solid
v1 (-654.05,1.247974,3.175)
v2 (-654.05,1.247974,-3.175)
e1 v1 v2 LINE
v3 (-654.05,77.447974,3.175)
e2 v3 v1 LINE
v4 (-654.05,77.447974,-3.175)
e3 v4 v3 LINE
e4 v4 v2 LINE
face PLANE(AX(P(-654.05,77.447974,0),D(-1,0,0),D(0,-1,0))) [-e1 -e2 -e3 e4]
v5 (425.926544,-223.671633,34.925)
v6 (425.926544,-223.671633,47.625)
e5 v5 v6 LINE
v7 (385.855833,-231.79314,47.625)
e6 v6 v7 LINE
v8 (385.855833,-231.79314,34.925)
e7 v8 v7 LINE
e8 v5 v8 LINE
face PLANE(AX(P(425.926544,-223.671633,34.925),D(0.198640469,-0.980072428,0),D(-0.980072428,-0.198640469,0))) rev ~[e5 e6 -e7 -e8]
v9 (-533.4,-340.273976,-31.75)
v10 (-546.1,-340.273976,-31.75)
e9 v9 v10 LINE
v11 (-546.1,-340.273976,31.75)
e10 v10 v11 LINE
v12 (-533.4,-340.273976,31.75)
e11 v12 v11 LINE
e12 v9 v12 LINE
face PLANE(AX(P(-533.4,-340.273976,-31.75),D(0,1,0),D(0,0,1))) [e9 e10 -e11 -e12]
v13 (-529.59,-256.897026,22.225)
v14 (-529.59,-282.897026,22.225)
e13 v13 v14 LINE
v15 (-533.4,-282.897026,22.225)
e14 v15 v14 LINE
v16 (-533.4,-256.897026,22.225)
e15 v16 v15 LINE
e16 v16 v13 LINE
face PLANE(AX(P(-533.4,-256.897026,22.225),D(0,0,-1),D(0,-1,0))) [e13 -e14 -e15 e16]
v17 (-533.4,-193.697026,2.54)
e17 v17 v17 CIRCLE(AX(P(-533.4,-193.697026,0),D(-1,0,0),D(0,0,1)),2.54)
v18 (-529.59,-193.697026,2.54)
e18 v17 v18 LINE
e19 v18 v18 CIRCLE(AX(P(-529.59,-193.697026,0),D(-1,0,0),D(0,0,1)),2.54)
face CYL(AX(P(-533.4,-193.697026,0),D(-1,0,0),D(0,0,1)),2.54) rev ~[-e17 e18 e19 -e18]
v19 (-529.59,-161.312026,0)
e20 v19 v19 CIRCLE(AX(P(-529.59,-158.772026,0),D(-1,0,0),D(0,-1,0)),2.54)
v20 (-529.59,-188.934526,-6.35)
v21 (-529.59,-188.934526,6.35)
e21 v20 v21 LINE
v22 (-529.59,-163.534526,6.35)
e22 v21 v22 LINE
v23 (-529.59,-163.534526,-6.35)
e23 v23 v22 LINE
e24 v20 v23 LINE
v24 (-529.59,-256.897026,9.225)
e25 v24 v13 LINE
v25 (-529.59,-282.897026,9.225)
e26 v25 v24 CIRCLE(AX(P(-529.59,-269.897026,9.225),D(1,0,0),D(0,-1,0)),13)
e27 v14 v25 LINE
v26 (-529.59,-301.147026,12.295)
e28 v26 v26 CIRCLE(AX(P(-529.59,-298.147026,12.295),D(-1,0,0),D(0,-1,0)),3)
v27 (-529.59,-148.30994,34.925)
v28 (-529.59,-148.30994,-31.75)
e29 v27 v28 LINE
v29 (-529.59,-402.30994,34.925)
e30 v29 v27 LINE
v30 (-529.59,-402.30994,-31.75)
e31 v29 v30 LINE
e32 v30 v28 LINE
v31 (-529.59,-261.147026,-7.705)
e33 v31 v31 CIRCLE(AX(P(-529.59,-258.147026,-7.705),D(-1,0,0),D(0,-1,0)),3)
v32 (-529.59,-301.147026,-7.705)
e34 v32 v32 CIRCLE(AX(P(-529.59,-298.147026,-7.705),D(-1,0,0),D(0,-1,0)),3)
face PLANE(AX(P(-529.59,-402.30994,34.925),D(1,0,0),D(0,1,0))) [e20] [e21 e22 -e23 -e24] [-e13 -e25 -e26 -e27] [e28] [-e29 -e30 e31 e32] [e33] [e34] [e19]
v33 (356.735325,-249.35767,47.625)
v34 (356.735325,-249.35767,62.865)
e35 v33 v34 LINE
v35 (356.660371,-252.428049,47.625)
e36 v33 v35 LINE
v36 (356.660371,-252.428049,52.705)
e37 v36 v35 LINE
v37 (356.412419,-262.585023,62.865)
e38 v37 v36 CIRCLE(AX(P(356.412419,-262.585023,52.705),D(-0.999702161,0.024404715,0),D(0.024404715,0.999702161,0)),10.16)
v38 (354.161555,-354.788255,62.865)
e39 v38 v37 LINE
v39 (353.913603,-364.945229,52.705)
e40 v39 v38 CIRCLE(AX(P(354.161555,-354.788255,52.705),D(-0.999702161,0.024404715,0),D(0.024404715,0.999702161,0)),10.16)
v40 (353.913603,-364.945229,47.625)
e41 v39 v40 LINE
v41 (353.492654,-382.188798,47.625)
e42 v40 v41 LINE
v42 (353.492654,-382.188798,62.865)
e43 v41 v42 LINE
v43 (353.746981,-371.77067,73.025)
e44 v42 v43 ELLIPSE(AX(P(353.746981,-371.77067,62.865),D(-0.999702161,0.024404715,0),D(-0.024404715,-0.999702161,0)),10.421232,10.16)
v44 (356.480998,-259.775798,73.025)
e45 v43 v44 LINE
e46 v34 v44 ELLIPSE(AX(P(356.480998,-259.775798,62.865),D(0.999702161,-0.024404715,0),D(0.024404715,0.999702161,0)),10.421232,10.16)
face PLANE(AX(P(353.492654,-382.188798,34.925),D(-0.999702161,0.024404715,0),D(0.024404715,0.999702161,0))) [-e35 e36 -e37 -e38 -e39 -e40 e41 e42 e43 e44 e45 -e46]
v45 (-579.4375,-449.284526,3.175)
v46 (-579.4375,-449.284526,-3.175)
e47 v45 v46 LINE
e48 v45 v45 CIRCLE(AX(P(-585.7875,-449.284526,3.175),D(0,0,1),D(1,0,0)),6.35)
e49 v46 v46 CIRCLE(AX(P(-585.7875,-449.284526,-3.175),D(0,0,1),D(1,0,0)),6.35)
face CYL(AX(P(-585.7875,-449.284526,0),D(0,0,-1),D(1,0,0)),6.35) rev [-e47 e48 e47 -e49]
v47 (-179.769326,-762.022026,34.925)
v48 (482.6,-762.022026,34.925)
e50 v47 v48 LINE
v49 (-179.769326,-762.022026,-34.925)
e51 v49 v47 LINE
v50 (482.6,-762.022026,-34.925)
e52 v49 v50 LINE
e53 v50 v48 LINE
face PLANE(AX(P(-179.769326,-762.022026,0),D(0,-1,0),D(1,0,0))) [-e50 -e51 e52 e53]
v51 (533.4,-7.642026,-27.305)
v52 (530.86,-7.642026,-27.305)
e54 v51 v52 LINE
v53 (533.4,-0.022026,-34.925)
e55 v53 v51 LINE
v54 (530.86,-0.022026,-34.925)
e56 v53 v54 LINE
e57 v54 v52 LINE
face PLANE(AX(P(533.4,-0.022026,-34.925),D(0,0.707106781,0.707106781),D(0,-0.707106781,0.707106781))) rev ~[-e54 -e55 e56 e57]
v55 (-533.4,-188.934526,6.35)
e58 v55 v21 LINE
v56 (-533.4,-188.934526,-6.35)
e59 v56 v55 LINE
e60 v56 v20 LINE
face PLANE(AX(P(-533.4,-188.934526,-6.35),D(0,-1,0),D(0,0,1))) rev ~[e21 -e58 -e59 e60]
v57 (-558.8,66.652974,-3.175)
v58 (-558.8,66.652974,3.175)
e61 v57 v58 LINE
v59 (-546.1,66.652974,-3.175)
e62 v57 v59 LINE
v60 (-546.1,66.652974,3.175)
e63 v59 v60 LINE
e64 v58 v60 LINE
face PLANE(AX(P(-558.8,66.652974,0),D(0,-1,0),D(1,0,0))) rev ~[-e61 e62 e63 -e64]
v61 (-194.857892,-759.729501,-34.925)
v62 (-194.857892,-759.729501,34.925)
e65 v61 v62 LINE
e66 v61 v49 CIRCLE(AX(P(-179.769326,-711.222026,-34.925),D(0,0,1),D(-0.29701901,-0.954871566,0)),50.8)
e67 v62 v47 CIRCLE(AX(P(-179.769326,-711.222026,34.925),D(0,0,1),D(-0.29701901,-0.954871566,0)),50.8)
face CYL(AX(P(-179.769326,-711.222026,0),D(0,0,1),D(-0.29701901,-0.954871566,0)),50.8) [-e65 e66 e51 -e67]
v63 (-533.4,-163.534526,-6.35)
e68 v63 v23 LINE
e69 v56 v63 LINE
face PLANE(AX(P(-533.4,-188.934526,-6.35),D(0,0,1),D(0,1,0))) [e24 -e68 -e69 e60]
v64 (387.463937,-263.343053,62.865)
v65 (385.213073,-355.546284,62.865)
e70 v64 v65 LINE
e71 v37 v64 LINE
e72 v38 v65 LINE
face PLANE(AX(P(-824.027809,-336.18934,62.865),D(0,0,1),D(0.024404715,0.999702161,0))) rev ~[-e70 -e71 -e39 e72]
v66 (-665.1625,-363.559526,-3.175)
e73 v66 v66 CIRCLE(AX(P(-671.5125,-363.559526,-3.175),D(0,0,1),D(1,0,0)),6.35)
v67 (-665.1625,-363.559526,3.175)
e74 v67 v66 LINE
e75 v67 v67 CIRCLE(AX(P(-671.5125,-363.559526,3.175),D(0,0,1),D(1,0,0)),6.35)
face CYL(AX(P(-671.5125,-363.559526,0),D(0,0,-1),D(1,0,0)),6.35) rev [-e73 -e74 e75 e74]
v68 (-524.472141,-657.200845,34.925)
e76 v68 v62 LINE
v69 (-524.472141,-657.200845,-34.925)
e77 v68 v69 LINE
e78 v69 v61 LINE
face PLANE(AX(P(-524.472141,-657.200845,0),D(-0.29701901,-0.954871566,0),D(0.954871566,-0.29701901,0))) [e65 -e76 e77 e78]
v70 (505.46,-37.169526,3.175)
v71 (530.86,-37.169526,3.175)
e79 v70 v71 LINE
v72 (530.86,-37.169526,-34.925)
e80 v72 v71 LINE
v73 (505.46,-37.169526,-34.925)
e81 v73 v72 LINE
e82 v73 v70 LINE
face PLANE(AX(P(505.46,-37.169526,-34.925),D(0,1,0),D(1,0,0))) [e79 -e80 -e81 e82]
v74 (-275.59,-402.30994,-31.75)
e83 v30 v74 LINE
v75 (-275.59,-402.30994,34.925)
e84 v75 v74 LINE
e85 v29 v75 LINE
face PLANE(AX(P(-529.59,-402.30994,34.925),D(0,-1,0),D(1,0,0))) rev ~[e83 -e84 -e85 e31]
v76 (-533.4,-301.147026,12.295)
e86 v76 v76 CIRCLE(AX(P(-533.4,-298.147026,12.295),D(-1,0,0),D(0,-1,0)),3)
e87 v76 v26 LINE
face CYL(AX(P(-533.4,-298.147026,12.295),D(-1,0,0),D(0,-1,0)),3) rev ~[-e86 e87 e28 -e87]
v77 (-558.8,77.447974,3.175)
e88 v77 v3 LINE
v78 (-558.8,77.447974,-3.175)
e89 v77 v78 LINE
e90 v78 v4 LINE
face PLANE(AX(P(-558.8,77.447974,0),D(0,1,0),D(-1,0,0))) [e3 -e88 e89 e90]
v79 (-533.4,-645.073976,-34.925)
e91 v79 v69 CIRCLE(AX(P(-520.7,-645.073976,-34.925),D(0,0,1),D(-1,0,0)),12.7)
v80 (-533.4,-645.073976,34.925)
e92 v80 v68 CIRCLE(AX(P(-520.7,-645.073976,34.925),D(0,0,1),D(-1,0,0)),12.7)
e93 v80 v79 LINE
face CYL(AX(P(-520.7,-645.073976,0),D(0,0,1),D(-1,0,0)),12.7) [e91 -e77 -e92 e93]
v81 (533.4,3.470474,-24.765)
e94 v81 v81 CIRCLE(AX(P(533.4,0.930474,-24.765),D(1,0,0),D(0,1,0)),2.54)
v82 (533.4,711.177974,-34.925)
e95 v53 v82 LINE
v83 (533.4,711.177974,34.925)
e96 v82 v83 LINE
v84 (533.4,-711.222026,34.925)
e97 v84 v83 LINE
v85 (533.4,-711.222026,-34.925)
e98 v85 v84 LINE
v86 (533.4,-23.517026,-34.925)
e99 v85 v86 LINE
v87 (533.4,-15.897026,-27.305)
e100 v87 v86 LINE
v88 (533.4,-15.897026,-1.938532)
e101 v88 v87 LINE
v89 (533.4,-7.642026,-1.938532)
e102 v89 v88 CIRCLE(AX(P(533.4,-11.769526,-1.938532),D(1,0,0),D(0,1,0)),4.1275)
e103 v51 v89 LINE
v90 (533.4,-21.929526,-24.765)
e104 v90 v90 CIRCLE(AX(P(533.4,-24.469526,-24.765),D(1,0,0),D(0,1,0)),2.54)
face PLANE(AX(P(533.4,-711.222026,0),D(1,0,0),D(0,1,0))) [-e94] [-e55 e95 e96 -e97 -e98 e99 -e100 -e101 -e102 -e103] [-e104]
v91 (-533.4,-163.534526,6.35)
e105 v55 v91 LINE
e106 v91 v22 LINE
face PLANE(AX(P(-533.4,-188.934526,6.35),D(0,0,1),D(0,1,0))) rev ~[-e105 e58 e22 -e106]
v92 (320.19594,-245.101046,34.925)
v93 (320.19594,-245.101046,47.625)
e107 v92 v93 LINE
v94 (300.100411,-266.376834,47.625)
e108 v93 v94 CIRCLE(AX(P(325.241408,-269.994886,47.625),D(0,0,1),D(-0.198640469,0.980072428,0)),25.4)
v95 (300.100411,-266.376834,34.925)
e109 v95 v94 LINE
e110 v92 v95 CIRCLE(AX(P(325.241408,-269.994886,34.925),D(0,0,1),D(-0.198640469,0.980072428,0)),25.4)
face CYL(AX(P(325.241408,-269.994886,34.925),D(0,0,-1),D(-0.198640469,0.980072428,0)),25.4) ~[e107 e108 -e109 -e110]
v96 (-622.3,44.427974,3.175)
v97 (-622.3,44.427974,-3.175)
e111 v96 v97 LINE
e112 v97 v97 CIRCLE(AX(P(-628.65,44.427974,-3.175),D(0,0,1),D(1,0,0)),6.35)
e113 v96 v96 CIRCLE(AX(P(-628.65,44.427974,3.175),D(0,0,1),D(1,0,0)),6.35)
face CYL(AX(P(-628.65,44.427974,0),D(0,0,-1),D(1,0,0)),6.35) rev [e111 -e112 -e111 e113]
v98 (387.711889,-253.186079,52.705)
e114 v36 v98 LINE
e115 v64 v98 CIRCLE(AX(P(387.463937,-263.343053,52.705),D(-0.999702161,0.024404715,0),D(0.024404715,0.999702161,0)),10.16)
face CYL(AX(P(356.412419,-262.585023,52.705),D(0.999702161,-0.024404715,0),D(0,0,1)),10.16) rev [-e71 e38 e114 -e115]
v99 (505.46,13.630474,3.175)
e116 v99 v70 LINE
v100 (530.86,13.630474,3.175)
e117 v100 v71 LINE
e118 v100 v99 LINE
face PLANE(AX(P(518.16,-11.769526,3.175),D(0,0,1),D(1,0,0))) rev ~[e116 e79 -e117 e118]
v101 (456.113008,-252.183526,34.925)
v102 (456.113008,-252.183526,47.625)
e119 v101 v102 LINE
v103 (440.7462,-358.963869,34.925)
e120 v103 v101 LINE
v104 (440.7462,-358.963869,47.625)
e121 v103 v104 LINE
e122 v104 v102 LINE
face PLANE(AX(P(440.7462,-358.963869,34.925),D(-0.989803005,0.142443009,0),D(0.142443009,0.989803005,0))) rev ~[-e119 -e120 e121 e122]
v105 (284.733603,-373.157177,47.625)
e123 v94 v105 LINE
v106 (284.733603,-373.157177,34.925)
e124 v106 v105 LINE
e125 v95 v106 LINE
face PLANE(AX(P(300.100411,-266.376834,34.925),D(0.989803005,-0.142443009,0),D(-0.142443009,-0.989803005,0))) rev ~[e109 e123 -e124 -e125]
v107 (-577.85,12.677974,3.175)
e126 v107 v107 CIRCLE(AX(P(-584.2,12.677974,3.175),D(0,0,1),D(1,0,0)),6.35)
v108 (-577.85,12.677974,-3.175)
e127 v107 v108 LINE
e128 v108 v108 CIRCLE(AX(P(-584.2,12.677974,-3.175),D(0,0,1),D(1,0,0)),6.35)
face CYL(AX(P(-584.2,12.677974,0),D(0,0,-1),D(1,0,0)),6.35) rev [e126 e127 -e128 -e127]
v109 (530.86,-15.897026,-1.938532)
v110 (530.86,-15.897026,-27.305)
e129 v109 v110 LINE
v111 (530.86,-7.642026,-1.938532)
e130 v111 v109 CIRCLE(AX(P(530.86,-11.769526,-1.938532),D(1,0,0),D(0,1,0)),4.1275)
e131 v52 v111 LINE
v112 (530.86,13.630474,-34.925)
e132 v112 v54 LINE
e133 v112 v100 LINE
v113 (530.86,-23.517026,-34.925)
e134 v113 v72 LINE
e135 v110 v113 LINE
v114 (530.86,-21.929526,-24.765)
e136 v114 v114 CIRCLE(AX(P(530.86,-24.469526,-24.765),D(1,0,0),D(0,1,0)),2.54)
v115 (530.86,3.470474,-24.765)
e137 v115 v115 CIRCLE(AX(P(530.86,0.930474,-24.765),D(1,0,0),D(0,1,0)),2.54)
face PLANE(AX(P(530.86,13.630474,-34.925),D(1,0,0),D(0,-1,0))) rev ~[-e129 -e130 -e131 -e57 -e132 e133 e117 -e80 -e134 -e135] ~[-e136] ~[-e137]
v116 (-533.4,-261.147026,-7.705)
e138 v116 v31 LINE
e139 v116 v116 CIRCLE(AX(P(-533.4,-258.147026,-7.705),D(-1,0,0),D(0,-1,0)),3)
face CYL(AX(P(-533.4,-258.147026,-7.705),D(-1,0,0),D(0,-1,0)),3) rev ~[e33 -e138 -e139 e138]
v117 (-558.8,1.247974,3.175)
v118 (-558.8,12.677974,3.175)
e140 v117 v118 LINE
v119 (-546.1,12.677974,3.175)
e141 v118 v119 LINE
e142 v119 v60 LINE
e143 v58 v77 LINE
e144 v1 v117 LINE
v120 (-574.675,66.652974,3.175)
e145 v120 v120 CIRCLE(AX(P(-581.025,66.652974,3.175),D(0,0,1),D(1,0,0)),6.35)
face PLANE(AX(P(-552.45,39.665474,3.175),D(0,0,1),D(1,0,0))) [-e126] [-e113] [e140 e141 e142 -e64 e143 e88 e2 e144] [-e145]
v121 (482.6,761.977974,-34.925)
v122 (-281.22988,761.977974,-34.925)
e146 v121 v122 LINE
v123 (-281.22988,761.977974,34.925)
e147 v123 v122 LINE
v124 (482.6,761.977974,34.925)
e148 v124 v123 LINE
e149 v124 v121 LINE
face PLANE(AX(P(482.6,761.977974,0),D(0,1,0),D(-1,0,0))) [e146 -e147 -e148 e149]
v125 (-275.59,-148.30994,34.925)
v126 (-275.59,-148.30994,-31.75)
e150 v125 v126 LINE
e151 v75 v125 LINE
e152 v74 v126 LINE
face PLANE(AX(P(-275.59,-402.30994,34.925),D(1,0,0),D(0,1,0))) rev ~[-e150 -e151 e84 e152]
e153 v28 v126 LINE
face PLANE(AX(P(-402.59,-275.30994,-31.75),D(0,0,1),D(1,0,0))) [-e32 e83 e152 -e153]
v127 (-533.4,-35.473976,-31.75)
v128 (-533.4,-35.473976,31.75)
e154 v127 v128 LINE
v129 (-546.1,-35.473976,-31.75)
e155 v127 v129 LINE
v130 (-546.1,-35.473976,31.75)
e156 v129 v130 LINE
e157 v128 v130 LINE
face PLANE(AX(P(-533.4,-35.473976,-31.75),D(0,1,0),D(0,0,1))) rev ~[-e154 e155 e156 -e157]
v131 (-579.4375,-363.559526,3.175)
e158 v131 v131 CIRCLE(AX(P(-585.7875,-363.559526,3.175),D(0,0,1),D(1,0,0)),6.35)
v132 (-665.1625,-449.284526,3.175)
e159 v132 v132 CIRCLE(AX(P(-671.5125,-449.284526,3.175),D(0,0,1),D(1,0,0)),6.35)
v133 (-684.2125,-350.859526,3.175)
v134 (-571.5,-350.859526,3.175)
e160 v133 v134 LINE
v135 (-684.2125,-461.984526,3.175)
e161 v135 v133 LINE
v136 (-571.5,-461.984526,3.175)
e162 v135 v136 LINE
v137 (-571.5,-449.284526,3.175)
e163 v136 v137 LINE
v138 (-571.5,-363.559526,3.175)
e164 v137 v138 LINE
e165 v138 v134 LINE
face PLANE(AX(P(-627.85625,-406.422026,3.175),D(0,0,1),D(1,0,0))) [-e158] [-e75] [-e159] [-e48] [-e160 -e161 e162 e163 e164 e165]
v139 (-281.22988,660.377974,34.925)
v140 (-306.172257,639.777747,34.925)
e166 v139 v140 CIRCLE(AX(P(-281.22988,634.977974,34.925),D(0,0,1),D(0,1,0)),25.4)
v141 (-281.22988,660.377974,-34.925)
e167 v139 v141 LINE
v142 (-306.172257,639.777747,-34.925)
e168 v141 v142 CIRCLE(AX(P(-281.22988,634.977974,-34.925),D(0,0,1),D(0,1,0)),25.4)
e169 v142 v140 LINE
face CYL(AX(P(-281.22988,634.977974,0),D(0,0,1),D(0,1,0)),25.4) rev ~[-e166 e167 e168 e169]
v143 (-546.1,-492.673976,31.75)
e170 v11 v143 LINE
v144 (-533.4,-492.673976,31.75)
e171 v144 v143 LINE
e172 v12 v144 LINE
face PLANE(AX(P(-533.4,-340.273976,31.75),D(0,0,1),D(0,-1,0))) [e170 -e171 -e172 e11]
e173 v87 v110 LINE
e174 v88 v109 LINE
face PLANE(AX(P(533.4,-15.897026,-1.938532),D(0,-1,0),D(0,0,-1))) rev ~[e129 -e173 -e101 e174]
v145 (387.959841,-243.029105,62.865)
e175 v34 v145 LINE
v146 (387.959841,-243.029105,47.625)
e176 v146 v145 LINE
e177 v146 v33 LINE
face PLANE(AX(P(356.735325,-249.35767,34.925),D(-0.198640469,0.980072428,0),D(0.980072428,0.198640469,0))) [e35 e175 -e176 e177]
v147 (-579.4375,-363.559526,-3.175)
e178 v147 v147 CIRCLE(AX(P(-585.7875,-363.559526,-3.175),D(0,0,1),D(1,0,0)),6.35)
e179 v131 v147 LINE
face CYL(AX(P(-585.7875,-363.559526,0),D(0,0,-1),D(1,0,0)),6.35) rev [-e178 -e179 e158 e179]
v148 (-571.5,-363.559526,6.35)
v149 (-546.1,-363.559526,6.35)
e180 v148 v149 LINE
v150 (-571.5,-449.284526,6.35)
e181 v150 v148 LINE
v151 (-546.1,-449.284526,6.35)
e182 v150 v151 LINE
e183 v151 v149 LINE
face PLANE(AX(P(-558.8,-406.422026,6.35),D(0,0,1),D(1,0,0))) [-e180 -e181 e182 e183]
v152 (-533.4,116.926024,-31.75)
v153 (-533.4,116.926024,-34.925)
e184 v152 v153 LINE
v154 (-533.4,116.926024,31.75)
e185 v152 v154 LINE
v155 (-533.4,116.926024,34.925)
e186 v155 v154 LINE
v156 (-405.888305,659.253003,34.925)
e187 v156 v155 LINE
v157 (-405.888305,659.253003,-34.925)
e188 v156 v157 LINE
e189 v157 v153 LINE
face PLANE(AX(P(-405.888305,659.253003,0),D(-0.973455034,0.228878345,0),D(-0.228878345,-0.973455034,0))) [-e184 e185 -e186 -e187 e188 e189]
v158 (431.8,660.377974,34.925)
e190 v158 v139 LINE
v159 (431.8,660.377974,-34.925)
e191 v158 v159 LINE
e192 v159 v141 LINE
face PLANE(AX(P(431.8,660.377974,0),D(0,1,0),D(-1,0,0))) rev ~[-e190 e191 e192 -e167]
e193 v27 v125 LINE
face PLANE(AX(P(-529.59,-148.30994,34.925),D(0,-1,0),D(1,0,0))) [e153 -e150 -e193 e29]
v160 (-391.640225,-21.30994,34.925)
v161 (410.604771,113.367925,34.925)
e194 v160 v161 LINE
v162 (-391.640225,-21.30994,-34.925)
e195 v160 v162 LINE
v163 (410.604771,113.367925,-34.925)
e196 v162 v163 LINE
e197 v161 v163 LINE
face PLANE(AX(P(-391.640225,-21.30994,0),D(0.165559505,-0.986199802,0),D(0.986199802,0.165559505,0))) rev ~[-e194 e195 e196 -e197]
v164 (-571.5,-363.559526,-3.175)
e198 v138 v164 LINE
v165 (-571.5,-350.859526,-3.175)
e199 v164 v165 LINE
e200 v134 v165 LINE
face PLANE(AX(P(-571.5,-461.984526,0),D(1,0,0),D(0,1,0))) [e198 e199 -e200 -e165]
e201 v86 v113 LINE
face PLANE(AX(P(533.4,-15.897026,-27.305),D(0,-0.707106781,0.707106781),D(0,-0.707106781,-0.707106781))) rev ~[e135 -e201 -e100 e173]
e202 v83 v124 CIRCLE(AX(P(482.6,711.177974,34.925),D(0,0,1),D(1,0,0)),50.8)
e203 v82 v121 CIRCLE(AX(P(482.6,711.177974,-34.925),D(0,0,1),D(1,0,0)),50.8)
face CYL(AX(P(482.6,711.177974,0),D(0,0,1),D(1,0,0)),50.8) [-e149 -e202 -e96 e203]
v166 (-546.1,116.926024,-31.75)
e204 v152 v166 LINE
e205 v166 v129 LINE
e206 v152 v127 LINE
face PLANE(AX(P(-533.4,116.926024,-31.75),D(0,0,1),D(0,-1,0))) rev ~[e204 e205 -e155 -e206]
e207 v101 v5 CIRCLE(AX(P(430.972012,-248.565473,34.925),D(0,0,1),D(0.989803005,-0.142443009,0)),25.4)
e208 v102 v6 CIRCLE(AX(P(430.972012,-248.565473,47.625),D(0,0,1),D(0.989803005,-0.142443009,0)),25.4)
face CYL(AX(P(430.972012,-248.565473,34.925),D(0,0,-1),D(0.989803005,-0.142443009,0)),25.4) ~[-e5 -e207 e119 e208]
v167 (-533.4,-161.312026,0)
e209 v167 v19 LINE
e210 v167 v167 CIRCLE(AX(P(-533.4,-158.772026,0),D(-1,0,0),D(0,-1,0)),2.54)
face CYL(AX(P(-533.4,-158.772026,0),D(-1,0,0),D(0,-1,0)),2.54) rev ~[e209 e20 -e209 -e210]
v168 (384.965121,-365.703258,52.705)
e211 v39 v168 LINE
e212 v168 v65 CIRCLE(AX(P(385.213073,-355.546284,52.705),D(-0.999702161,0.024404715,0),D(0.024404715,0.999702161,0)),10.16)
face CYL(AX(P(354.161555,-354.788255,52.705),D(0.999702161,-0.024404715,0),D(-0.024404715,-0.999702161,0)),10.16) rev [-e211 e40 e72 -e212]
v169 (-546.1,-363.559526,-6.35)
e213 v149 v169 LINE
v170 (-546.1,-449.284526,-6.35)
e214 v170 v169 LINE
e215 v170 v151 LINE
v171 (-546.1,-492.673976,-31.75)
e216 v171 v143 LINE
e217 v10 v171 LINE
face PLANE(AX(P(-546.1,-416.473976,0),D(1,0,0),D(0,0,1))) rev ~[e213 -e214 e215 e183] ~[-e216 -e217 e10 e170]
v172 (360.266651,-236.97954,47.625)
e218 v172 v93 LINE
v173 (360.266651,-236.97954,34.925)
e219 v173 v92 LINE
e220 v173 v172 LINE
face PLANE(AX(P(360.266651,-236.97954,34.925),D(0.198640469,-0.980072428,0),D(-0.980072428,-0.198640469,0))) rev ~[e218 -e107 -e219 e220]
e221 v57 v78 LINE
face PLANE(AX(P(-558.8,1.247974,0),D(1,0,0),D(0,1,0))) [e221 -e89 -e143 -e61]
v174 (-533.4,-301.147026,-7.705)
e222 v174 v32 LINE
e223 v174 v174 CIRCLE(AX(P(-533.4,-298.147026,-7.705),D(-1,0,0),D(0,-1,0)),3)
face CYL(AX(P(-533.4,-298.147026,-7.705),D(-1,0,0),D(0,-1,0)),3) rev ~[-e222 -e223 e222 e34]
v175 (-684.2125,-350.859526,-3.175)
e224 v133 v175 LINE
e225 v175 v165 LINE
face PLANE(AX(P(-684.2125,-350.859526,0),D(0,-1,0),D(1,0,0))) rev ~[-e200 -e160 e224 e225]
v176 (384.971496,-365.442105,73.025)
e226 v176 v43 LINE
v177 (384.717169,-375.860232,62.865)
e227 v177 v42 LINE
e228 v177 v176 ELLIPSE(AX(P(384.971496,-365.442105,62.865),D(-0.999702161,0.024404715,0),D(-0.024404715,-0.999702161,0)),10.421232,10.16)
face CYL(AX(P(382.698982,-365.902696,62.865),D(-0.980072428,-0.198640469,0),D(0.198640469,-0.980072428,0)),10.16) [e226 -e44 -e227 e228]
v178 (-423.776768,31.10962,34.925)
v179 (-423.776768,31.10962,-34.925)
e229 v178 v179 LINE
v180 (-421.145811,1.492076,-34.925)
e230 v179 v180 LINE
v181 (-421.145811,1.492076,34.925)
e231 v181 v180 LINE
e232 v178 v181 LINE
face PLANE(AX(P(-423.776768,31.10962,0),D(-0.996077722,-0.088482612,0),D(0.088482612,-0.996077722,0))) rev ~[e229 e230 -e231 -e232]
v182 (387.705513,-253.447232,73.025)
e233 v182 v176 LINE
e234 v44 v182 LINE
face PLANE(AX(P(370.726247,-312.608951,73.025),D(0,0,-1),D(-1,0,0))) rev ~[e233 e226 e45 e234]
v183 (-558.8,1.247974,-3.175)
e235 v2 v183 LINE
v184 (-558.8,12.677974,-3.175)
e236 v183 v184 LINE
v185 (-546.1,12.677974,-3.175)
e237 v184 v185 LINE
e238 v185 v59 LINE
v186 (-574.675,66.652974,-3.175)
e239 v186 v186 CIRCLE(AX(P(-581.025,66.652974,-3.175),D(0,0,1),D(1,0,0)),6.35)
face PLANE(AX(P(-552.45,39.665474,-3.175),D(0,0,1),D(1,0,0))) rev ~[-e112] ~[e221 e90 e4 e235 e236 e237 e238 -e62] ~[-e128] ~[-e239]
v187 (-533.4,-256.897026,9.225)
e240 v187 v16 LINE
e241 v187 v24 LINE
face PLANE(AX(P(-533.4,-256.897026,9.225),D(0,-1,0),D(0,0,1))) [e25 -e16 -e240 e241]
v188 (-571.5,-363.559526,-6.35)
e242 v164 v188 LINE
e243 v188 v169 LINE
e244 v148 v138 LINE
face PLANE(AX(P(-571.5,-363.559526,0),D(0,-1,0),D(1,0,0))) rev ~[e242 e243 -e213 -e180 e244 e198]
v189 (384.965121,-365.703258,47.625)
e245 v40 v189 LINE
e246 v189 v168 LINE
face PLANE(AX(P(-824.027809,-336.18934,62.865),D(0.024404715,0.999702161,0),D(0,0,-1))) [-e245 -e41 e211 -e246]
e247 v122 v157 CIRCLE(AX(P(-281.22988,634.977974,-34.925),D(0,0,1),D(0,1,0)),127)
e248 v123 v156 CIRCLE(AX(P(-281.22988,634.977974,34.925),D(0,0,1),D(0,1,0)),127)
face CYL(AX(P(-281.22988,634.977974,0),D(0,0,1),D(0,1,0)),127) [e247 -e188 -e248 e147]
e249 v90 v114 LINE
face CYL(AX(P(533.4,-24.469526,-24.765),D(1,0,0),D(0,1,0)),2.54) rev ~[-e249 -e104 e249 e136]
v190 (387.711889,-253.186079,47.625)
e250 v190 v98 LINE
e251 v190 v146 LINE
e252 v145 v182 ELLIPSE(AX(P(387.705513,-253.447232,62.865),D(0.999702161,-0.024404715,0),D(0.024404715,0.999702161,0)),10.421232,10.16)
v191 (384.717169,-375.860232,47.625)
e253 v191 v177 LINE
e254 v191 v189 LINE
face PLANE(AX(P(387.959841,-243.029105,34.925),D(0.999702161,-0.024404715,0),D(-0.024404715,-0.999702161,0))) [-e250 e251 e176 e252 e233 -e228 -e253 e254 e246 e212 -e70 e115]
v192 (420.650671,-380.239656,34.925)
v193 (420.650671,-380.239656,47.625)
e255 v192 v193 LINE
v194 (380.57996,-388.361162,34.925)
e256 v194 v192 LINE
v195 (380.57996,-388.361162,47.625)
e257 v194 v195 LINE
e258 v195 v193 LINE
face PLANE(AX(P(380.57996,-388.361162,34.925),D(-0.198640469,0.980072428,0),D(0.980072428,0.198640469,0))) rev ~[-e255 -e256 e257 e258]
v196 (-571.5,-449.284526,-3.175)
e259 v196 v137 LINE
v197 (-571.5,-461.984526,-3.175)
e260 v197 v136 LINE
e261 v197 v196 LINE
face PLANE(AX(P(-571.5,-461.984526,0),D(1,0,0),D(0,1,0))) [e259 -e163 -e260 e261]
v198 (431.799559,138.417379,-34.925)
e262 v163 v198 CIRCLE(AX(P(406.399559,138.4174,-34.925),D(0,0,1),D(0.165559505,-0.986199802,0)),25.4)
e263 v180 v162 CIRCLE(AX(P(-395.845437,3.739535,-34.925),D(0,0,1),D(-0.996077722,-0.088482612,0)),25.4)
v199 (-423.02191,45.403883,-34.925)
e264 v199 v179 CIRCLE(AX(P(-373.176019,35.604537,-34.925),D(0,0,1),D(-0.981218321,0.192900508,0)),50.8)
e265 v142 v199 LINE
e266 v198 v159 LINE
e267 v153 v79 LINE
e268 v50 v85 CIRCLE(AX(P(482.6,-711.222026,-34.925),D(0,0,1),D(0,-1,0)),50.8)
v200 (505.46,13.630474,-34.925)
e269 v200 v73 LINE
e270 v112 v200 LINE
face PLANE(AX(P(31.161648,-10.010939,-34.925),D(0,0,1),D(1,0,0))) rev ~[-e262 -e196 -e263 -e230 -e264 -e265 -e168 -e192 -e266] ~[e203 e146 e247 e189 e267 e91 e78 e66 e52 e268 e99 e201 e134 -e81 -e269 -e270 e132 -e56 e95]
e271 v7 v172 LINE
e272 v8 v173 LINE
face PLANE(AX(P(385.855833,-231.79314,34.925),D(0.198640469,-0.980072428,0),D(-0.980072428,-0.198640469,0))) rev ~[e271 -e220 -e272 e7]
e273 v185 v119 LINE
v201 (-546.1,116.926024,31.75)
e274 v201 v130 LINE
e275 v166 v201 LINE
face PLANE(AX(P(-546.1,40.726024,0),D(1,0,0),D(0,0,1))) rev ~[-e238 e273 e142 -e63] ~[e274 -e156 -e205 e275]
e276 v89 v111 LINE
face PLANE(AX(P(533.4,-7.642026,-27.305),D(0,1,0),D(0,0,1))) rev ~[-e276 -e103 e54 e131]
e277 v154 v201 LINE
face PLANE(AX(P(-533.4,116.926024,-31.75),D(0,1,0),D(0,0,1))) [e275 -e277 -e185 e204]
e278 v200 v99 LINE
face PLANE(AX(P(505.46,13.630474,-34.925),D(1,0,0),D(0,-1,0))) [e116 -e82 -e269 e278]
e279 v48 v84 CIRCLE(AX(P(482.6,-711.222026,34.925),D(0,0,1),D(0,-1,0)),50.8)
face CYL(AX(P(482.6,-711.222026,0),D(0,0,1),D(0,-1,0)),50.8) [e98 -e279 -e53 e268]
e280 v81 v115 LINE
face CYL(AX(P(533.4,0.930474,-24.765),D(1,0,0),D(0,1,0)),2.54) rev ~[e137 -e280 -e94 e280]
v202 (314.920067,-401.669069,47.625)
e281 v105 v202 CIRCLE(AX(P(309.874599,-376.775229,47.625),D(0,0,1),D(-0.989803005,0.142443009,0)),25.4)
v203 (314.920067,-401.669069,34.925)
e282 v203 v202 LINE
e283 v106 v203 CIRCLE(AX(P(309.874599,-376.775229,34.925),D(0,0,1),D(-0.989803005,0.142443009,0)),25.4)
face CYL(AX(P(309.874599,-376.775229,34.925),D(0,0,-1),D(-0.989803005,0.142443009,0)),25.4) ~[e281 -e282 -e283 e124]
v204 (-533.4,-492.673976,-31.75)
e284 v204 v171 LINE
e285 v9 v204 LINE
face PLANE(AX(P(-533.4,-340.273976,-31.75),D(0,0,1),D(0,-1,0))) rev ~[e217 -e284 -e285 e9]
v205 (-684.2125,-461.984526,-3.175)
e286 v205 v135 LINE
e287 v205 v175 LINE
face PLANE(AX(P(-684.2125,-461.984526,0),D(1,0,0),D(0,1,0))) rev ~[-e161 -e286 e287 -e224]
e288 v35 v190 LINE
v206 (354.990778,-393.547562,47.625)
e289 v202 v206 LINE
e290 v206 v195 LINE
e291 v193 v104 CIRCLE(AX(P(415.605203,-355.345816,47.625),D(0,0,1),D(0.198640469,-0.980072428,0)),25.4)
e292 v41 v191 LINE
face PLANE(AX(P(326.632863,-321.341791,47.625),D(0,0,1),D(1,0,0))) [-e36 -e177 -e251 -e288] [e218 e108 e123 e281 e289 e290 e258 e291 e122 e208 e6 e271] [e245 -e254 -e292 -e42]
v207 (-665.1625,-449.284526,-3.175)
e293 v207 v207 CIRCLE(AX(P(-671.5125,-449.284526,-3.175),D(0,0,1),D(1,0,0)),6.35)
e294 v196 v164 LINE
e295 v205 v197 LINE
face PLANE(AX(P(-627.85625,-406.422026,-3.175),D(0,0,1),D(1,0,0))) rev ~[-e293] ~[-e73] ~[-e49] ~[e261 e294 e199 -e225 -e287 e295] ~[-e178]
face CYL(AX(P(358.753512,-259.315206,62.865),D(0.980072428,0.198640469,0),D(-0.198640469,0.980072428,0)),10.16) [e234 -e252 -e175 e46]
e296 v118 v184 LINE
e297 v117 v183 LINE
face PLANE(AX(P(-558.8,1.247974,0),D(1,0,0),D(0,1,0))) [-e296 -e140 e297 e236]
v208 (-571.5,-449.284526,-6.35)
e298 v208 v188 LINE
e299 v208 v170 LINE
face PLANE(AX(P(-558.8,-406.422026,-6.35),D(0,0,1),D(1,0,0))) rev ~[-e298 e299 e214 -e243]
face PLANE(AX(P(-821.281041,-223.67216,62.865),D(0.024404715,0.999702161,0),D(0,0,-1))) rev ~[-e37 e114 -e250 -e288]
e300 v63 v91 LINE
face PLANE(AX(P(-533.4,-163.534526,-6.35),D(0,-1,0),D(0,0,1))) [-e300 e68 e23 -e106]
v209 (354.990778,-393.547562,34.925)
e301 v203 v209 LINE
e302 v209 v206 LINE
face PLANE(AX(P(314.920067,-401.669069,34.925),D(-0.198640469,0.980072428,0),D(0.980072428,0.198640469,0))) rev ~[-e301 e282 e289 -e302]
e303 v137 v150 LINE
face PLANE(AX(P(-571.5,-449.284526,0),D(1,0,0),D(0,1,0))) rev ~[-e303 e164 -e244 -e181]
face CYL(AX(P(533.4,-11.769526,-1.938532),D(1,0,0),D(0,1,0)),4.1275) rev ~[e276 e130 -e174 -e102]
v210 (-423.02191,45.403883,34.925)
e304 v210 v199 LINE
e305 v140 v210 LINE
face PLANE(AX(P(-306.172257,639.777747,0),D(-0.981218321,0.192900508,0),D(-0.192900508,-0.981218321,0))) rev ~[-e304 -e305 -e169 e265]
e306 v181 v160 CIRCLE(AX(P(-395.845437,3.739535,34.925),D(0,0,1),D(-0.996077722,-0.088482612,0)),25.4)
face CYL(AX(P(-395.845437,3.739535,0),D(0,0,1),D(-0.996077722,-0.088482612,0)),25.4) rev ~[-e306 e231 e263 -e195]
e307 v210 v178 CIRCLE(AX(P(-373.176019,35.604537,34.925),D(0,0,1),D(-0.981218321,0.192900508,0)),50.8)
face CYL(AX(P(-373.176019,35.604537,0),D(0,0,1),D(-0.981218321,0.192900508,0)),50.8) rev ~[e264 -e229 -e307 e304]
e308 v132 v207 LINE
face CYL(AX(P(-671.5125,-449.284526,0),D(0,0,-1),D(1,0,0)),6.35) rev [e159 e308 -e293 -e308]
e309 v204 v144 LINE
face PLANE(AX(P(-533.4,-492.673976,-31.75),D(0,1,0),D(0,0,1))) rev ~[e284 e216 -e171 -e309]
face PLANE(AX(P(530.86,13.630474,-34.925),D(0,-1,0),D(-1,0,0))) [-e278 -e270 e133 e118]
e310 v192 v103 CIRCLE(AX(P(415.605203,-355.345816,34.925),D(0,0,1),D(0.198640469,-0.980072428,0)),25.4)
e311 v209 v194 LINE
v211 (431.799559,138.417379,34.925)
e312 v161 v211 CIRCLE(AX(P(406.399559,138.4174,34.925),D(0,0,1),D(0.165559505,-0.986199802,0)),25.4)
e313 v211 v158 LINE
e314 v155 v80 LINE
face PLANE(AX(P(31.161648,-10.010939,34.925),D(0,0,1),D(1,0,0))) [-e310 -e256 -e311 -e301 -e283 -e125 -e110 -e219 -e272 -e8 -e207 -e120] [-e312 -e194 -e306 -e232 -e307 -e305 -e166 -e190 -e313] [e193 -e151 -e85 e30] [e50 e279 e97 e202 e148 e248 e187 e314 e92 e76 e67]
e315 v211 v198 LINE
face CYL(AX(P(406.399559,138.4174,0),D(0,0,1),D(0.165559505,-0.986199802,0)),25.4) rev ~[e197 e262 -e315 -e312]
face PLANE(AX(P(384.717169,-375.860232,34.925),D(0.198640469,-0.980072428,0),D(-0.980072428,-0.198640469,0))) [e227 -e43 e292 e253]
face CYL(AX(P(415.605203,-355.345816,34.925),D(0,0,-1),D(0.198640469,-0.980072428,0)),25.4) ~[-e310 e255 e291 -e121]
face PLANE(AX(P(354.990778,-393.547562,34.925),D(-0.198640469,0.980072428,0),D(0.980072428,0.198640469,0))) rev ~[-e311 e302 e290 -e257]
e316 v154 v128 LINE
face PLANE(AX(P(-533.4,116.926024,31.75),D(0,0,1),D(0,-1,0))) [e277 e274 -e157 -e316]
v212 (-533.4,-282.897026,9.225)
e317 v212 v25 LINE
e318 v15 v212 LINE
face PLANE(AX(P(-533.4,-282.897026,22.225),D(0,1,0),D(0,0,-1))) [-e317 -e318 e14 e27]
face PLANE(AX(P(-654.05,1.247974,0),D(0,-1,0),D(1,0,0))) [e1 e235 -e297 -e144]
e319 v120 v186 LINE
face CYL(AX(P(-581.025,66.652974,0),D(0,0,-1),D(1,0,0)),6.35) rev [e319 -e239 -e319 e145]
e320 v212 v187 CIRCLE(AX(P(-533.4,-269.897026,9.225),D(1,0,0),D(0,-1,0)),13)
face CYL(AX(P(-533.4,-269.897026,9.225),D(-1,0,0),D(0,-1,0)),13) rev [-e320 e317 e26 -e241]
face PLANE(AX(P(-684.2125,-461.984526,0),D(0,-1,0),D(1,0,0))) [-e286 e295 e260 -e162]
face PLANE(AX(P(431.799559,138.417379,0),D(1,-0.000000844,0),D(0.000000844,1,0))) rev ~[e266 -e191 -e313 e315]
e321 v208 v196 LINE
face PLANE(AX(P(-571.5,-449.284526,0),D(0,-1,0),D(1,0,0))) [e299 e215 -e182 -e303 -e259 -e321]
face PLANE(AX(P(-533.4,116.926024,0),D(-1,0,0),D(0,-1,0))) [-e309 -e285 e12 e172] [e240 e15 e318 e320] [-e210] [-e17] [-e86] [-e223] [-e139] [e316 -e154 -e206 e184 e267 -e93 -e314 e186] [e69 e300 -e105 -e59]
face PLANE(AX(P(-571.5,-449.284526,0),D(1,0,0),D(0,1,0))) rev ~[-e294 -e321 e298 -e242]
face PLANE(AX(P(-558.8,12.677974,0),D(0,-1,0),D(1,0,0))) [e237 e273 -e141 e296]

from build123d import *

# Parameters (mm, degrees)
BOSS_EXTRUDE1_DEPTH     = 34.925
BOSS_EXTRUDE2_DEPTH     = 12.7
BOSS_EXTRUDE4_DEPTH     = 38.1
CUT_EXTRUDE6_DEPTH      = 1209.353123139
CUT_EXTRUDE6_DEPTH_BACK = 1209.353123139
SKETCH6_W               = 15.24
SKETCH6_H               = 112.550701787
FILLET5_R               = 10.16
SKETCH7_W               = 63.5
SKETCH7_H               = 152.4
BOSS_EXTRUDE5_DEPTH     = 12.7
SKETCH16_W              = 254
SKETCH16_H              = 254
CUT_EXTRUDE8_DEPTH      = 66.675
SKETCH20_R              = 2.54
SKETCH20_W              = 12.7
SKETCH20_H              = 25.4
CUT_EXTRUDE12_DEPTH     = 3.81
SKETCH21_R              = 6.35
SKETCH21_W              = 12.7
SKETCH21_H              = 53.975
BOSS_EXTRUDE8_DEPTH     = 3.175
SKETCH26_W              = 25.4
SKETCH26_H              = 85.725
BOSS_EXTRUDE12_DEPTH    = 6.35
SKETCH27_W              = 112.7125
SKETCH27_H              = 111.125
SKETCH27_R              = 6.35
BOSS_EXTRUDE13_DEPTH    = 3.175
SKETCH28_R              = 3
CUT_EXTRUDE13_DEPTH     = 3.81
CUT_EXTRUDE14_DEPTH     = 2.54
CUT_EXTRUDE15_DEPTH     = 38.1
SKETCH31_R              = 2.54
CUT_EXTRUDE16_DEPTH     = 10.668


with BuildPart() as part:
    # Sketch2 → Boss-Extrude1 (new, symmetric)
    with BuildSketch(Plane.XY):
        with BuildLine():
            Line((-524.472141427, -657.200845349), (-194.857891611, -759.729501192))
            ThreePointArc((-194.857891611, -759.729501192), (-187.400192227, -761.445624463), (-179.769325902, -762.022025636))
            Line((-179.769325902, -762.022025636), (482.6, -762.022025636))
            ThreePointArc((482.6, -762.022025636), (518.521024484, -747.14305012), (533.4, -711.222025636))
            Line((533.4, -711.222025636), (533.4, 711.177974364))
            ThreePointArc((533.4, 711.177974364), (518.521024484, 747.098998848), (482.6, 761.977974364))
            Line((482.6, 761.977974364), (-281.22987981, 761.977974364))
            ThreePointArc((-281.22987981, 761.977974364), (-361.995192132, 732.98799592), (-405.888305034, 659.253003111))
            Line((-405.888305034, 659.253003111), (-533.4, 116.92602354))
            Line((-533.4, 116.92602354), (-533.4, -645.07397646))
            ThreePointArc((-533.4, -645.07397646), (-530.927321158, -652.603378956), (-524.472141427, -657.200845349))
        make_face()
        with BuildLine():
            Line((-306.172257077, 639.777746889), (-423.021910153, 45.403882754))
            ThreePointArc((-423.021910153, 45.403882754), (-423.905333497, 38.283472292), (-423.776767691, 31.109620274))
            Line((-423.776767691, 31.109620274), (-421.145810725, 1.492076496))
            ThreePointArc((-421.145810725, 1.492076496), (-411.377161007, -16.358363988), (-391.64022517, -21.309940154))
            Line((-391.64022517, -21.309940154), (410.604770812, 113.367925382))
            ThreePointArc((410.604770812, 113.367925382), (425.789915663, 122.010874728), (431.799559386, 138.417378922))
            Line((431.799559386, 138.417378922), (431.8, 660.377974364))
            Line((431.8, 660.377974364), (-281.22987981, 660.377974364))
            ThreePointArc((-281.22987981, 660.377974364), (-297.404640672, 654.562077894), (-306.172257077, 639.777746889))
        make_face(mode=Mode.SUBTRACT)
    extrude(amount=BOSS_EXTRUDE1_DEPTH, both=True)

    # Sketch3 → Boss-Extrude2 (add)
    with BuildSketch(Plane.XY.offset(34.925)):
        with BuildLine():
            Line((360.266650549, -236.97953971), (320.195939672, -245.101046406))
            ThreePointArc((320.195939672, -245.101046406), (306.776022753, -252.553855048), (300.10041124, -266.376833661))
            Line((300.10041124, -266.376833661), (284.73360266, -373.157176687))
            ThreePointArc((284.73360266, -373.157176687), (292.433567965, -395.240613926), (314.920066898, -401.669068776))
            Line((314.920066898, -401.669068776), (354.990777775, -393.547562081))
            Line((354.990777775, -393.547562081), (360.266650549, -236.97953971))
        make_face()
        with BuildLine():
            Line((425.926544142, -223.671633417), (385.855833265, -231.793140113))
            Line((385.855833265, -231.793140113), (380.579960491, -388.361162483))
            Line((380.579960491, -388.361162483), (420.650671368, -380.239655788))
            ThreePointArc((420.650671368, -380.239655788), (434.070588287, -372.786847145), (440.7461998, -358.963868533))
            Line((440.7461998, -358.963868533), (456.11300838, -252.183525507))
            ThreePointArc((456.11300838, -252.183525507), (448.413043075, -230.100088267), (425.926544142, -223.671633417))
        make_face()
        Polygon((385.855833265, -231.793140113), (360.266650549, -236.97953971), (354.990777775, -393.547562081), (380.579960491, -388.361162483), align=None)
    extrude(amount=BOSS_EXTRUDE2_DEPTH)

    # Sketch5 → Boss-Extrude4 (add)
    with BuildSketch(Plane.XY.offset(34.925)):
        Polygon((384.717168986, -375.860232263), (353.492653597, -382.188797573), (356.735325181, -249.357669916), (387.95984057, -243.029104606), align=None)
    extrude(amount=BOSS_EXTRUDE4_DEPTH)

    # Sketch6 → Cut-Extrude6 (cut, two sides: drawn at the far end of the back side and taken through both)
    with BuildSketch(Plane(origin=(393.658065015, -9.60997504, 0), x_dir=(0, 0, -1), z_dir=(0.9997021605932607, -0.02440471481427925, 0)).offset(-CUT_EXTRUDE6_DEPTH_BACK)):
        with Locations((-55.245, -299.924022588)):
            Rectangle(SKETCH6_W, SKETCH6_H)
    extrude(amount=CUT_EXTRUDE6_DEPTH + CUT_EXTRUDE6_DEPTH_BACK, mode=Mode.SUBTRACT)

    # Fillet5
    fillet5_edges = [part.edges().sort_by_distance(p)[0] for p in [
        (372.186129895, -252.807063957, 62.865),
        (369.439362115, -365.324243711, 62.865),
        (369.104911291, -379.024514918, 73.025),
        (372.347582875, -246.193387261, 73.025),
    ]]
    fillet(fillet5_edges, radius=FILLET5_R)

    # Sketch7 → Boss-Extrude5 (add)
    with BuildSketch(Plane(origin=(-533.4, 59.373810393, 0), x_dir=(0, 0, 1), z_dir=(1, 0, 0))):
        with Locations((0, 18.647786854)):
            Rectangle(SKETCH7_W, SKETCH7_H)
        with Locations((0, 475.847786854)):
            Rectangle(SKETCH7_W, SKETCH7_H)
    extrude(amount=-BOSS_EXTRUDE5_DEPTH)

    # Sketch16 → Cut-Extrude8 (cut)
    with BuildSketch(Plane.XY.offset(34.925)):
        with Locations((-402.59, -275.309940154)):
            Rectangle(SKETCH16_W, SKETCH16_H)
    extrude(amount=-CUT_EXTRUDE8_DEPTH, mode=Mode.SUBTRACT)

    # Sketch20 → Cut-Extrude12 (cut)
    with BuildSketch(Plane.ZY.offset(533.4)):
        with Locations(Location((0, -158.772025636, 0), (0, 0, 270))):
            Circle(SKETCH20_R)
        with Locations((0, -193.697025636)):
            Circle(SKETCH20_R)
        with Locations((0, -176.234525636)):
            Rectangle(SKETCH20_W, SKETCH20_H)
    extrude(amount=-CUT_EXTRUDE12_DEPTH, mode=Mode.SUBTRACT)

    # Sketch21 → Boss-Extrude8 (add, symmetric)
    # profile 1 of 2: a face of its own
    with BuildSketch(Plane.XY):
        Polygon((-558.8, 12.677974364), (-558.8, 66.652974364), (-558.8, 77.447974364), (-654.05, 77.447974364), (-654.05, 1.247974364), (-558.8, 1.247974364), align=None)
        with Locations((-584.2, 12.677974364)):
            Circle(SKETCH21_R, mode=Mode.SUBTRACT)
        with Locations((-628.65, 44.427974364)):
            Circle(SKETCH21_R, mode=Mode.SUBTRACT)
        with Locations((-581.025, 66.652974364)):
            Circle(SKETCH21_R, mode=Mode.SUBTRACT)
    # profile 2 of 2: a face of its own
    with BuildSketch(Plane.XY):
        with Locations((-552.45, 39.665474364)):
            Rectangle(SKETCH21_W, SKETCH21_H)
    extrude(amount=BOSS_EXTRUDE8_DEPTH, both=True)

    # Sketch26 → Boss-Extrude12 (add, symmetric)
    with BuildSketch(Plane.XY):
        with Locations((-558.8, -406.422025636)):
            Rectangle(SKETCH26_W, SKETCH26_H)
    extrude(amount=BOSS_EXTRUDE12_DEPTH, both=True)

    # Sketch27 → Boss-Extrude13 (add, symmetric)
    with BuildSketch(Plane.XY):
        with Locations((-627.85625, -406.422025636)):
            Rectangle(SKETCH27_W, SKETCH27_H)
        with Locations((-585.7875, -363.559525636)):
            Circle(SKETCH27_R, mode=Mode.SUBTRACT)
        with Locations((-671.5125, -449.284525636)):
            Circle(SKETCH27_R, mode=Mode.SUBTRACT)
        with Locations((-585.7875, -449.284525636)):
            Circle(SKETCH27_R, mode=Mode.SUBTRACT)
        with Locations((-671.5125, -363.559525636)):
            Circle(SKETCH27_R, mode=Mode.SUBTRACT)
    extrude(amount=BOSS_EXTRUDE13_DEPTH, both=True)

    # Sketch28 → Cut-Extrude13 (cut)
    with BuildSketch(Plane.ZY.offset(533.4)):
        with Locations(Location((-7.705, -258.147025636, 0), (0, 0, 270))):
            Circle(SKETCH28_R)
        with Locations(Location((-7.705, -298.147025636, 0), (0, 0, 270))):
            Circle(SKETCH28_R)
        with Locations(Location((12.295, -298.147025636, 0), (0, 0, 270))):
            Circle(SKETCH28_R)
        with BuildLine():
            Line((9.225, -256.897025636), (22.225, -256.897025636))
            Line((22.225, -256.897025636), (22.225, -282.897025636))
            Line((22.225, -282.897025636), (9.225, -282.897025636))
            ThreePointArc((9.225, -282.897025636), (-3.775, -269.897025636), (9.225, -256.897025636))
        make_face()
    extrude(amount=-CUT_EXTRUDE13_DEPTH, mode=Mode.SUBTRACT)

    # Sketch29 → Cut-Extrude14 (cut)
    with BuildSketch(Plane(origin=(533.4, 0, 0), x_dir=(0, 0, -1), z_dir=(1, 0, 0))):
        with BuildLine():
            Line((27.305, -15.897025636), (34.925, -23.517025636))
            Line((34.925, -23.517025636), (34.925, -15.897025636))
            Line((34.925, -15.897025636), (34.925, -0.022025636))
            Line((34.925, -0.022025636), (27.305, -7.642025636))
            Line((27.305, -7.642025636), (1.938532156, -7.642025636))
            ThreePointArc((1.938532156, -7.642025636), (-2.188967844, -11.769525636), (1.938532156, -15.897025636))
            Line((1.938532156, -15.897025636), (27.305, -15.897025636))
        make_face()
    extrude(amount=-CUT_EXTRUDE14_DEPTH, mode=Mode.SUBTRACT)

    # Sketch30 → Cut-Extrude15 (cut)
    with BuildSketch(Plane(origin=(0, 0, -34.925), x_dir=(-1, 0, 0), z_dir=(0, 0, -1))):
        Polygon((-530.86, -11.769525636), (-530.86, 13.630474364), (-505.46, 13.630474364), (-505.46, -37.169525636), (-530.86, -37.169525636), align=None)
    extrude(amount=-CUT_EXTRUDE15_DEPTH, mode=Mode.SUBTRACT)

    # Sketch31 → Cut-Extrude16 (cut)
    with BuildSketch(Plane(origin=(533.4, 0, 0), x_dir=(0, 0, -1), z_dir=(1, 0, 0))):
        with Locations(Location((24.765, 0.930474364, 0), (0, 0, 90))):
            Circle(SKETCH31_R)
        with Locations(Location((24.765, -24.469525636, 0), (0, 0, 90))):
            Circle(SKETCH31_R)
    extrude(amount=-CUT_EXTRUDE16_DEPTH, mode=Mode.SUBTRACT)


solid = part.part
